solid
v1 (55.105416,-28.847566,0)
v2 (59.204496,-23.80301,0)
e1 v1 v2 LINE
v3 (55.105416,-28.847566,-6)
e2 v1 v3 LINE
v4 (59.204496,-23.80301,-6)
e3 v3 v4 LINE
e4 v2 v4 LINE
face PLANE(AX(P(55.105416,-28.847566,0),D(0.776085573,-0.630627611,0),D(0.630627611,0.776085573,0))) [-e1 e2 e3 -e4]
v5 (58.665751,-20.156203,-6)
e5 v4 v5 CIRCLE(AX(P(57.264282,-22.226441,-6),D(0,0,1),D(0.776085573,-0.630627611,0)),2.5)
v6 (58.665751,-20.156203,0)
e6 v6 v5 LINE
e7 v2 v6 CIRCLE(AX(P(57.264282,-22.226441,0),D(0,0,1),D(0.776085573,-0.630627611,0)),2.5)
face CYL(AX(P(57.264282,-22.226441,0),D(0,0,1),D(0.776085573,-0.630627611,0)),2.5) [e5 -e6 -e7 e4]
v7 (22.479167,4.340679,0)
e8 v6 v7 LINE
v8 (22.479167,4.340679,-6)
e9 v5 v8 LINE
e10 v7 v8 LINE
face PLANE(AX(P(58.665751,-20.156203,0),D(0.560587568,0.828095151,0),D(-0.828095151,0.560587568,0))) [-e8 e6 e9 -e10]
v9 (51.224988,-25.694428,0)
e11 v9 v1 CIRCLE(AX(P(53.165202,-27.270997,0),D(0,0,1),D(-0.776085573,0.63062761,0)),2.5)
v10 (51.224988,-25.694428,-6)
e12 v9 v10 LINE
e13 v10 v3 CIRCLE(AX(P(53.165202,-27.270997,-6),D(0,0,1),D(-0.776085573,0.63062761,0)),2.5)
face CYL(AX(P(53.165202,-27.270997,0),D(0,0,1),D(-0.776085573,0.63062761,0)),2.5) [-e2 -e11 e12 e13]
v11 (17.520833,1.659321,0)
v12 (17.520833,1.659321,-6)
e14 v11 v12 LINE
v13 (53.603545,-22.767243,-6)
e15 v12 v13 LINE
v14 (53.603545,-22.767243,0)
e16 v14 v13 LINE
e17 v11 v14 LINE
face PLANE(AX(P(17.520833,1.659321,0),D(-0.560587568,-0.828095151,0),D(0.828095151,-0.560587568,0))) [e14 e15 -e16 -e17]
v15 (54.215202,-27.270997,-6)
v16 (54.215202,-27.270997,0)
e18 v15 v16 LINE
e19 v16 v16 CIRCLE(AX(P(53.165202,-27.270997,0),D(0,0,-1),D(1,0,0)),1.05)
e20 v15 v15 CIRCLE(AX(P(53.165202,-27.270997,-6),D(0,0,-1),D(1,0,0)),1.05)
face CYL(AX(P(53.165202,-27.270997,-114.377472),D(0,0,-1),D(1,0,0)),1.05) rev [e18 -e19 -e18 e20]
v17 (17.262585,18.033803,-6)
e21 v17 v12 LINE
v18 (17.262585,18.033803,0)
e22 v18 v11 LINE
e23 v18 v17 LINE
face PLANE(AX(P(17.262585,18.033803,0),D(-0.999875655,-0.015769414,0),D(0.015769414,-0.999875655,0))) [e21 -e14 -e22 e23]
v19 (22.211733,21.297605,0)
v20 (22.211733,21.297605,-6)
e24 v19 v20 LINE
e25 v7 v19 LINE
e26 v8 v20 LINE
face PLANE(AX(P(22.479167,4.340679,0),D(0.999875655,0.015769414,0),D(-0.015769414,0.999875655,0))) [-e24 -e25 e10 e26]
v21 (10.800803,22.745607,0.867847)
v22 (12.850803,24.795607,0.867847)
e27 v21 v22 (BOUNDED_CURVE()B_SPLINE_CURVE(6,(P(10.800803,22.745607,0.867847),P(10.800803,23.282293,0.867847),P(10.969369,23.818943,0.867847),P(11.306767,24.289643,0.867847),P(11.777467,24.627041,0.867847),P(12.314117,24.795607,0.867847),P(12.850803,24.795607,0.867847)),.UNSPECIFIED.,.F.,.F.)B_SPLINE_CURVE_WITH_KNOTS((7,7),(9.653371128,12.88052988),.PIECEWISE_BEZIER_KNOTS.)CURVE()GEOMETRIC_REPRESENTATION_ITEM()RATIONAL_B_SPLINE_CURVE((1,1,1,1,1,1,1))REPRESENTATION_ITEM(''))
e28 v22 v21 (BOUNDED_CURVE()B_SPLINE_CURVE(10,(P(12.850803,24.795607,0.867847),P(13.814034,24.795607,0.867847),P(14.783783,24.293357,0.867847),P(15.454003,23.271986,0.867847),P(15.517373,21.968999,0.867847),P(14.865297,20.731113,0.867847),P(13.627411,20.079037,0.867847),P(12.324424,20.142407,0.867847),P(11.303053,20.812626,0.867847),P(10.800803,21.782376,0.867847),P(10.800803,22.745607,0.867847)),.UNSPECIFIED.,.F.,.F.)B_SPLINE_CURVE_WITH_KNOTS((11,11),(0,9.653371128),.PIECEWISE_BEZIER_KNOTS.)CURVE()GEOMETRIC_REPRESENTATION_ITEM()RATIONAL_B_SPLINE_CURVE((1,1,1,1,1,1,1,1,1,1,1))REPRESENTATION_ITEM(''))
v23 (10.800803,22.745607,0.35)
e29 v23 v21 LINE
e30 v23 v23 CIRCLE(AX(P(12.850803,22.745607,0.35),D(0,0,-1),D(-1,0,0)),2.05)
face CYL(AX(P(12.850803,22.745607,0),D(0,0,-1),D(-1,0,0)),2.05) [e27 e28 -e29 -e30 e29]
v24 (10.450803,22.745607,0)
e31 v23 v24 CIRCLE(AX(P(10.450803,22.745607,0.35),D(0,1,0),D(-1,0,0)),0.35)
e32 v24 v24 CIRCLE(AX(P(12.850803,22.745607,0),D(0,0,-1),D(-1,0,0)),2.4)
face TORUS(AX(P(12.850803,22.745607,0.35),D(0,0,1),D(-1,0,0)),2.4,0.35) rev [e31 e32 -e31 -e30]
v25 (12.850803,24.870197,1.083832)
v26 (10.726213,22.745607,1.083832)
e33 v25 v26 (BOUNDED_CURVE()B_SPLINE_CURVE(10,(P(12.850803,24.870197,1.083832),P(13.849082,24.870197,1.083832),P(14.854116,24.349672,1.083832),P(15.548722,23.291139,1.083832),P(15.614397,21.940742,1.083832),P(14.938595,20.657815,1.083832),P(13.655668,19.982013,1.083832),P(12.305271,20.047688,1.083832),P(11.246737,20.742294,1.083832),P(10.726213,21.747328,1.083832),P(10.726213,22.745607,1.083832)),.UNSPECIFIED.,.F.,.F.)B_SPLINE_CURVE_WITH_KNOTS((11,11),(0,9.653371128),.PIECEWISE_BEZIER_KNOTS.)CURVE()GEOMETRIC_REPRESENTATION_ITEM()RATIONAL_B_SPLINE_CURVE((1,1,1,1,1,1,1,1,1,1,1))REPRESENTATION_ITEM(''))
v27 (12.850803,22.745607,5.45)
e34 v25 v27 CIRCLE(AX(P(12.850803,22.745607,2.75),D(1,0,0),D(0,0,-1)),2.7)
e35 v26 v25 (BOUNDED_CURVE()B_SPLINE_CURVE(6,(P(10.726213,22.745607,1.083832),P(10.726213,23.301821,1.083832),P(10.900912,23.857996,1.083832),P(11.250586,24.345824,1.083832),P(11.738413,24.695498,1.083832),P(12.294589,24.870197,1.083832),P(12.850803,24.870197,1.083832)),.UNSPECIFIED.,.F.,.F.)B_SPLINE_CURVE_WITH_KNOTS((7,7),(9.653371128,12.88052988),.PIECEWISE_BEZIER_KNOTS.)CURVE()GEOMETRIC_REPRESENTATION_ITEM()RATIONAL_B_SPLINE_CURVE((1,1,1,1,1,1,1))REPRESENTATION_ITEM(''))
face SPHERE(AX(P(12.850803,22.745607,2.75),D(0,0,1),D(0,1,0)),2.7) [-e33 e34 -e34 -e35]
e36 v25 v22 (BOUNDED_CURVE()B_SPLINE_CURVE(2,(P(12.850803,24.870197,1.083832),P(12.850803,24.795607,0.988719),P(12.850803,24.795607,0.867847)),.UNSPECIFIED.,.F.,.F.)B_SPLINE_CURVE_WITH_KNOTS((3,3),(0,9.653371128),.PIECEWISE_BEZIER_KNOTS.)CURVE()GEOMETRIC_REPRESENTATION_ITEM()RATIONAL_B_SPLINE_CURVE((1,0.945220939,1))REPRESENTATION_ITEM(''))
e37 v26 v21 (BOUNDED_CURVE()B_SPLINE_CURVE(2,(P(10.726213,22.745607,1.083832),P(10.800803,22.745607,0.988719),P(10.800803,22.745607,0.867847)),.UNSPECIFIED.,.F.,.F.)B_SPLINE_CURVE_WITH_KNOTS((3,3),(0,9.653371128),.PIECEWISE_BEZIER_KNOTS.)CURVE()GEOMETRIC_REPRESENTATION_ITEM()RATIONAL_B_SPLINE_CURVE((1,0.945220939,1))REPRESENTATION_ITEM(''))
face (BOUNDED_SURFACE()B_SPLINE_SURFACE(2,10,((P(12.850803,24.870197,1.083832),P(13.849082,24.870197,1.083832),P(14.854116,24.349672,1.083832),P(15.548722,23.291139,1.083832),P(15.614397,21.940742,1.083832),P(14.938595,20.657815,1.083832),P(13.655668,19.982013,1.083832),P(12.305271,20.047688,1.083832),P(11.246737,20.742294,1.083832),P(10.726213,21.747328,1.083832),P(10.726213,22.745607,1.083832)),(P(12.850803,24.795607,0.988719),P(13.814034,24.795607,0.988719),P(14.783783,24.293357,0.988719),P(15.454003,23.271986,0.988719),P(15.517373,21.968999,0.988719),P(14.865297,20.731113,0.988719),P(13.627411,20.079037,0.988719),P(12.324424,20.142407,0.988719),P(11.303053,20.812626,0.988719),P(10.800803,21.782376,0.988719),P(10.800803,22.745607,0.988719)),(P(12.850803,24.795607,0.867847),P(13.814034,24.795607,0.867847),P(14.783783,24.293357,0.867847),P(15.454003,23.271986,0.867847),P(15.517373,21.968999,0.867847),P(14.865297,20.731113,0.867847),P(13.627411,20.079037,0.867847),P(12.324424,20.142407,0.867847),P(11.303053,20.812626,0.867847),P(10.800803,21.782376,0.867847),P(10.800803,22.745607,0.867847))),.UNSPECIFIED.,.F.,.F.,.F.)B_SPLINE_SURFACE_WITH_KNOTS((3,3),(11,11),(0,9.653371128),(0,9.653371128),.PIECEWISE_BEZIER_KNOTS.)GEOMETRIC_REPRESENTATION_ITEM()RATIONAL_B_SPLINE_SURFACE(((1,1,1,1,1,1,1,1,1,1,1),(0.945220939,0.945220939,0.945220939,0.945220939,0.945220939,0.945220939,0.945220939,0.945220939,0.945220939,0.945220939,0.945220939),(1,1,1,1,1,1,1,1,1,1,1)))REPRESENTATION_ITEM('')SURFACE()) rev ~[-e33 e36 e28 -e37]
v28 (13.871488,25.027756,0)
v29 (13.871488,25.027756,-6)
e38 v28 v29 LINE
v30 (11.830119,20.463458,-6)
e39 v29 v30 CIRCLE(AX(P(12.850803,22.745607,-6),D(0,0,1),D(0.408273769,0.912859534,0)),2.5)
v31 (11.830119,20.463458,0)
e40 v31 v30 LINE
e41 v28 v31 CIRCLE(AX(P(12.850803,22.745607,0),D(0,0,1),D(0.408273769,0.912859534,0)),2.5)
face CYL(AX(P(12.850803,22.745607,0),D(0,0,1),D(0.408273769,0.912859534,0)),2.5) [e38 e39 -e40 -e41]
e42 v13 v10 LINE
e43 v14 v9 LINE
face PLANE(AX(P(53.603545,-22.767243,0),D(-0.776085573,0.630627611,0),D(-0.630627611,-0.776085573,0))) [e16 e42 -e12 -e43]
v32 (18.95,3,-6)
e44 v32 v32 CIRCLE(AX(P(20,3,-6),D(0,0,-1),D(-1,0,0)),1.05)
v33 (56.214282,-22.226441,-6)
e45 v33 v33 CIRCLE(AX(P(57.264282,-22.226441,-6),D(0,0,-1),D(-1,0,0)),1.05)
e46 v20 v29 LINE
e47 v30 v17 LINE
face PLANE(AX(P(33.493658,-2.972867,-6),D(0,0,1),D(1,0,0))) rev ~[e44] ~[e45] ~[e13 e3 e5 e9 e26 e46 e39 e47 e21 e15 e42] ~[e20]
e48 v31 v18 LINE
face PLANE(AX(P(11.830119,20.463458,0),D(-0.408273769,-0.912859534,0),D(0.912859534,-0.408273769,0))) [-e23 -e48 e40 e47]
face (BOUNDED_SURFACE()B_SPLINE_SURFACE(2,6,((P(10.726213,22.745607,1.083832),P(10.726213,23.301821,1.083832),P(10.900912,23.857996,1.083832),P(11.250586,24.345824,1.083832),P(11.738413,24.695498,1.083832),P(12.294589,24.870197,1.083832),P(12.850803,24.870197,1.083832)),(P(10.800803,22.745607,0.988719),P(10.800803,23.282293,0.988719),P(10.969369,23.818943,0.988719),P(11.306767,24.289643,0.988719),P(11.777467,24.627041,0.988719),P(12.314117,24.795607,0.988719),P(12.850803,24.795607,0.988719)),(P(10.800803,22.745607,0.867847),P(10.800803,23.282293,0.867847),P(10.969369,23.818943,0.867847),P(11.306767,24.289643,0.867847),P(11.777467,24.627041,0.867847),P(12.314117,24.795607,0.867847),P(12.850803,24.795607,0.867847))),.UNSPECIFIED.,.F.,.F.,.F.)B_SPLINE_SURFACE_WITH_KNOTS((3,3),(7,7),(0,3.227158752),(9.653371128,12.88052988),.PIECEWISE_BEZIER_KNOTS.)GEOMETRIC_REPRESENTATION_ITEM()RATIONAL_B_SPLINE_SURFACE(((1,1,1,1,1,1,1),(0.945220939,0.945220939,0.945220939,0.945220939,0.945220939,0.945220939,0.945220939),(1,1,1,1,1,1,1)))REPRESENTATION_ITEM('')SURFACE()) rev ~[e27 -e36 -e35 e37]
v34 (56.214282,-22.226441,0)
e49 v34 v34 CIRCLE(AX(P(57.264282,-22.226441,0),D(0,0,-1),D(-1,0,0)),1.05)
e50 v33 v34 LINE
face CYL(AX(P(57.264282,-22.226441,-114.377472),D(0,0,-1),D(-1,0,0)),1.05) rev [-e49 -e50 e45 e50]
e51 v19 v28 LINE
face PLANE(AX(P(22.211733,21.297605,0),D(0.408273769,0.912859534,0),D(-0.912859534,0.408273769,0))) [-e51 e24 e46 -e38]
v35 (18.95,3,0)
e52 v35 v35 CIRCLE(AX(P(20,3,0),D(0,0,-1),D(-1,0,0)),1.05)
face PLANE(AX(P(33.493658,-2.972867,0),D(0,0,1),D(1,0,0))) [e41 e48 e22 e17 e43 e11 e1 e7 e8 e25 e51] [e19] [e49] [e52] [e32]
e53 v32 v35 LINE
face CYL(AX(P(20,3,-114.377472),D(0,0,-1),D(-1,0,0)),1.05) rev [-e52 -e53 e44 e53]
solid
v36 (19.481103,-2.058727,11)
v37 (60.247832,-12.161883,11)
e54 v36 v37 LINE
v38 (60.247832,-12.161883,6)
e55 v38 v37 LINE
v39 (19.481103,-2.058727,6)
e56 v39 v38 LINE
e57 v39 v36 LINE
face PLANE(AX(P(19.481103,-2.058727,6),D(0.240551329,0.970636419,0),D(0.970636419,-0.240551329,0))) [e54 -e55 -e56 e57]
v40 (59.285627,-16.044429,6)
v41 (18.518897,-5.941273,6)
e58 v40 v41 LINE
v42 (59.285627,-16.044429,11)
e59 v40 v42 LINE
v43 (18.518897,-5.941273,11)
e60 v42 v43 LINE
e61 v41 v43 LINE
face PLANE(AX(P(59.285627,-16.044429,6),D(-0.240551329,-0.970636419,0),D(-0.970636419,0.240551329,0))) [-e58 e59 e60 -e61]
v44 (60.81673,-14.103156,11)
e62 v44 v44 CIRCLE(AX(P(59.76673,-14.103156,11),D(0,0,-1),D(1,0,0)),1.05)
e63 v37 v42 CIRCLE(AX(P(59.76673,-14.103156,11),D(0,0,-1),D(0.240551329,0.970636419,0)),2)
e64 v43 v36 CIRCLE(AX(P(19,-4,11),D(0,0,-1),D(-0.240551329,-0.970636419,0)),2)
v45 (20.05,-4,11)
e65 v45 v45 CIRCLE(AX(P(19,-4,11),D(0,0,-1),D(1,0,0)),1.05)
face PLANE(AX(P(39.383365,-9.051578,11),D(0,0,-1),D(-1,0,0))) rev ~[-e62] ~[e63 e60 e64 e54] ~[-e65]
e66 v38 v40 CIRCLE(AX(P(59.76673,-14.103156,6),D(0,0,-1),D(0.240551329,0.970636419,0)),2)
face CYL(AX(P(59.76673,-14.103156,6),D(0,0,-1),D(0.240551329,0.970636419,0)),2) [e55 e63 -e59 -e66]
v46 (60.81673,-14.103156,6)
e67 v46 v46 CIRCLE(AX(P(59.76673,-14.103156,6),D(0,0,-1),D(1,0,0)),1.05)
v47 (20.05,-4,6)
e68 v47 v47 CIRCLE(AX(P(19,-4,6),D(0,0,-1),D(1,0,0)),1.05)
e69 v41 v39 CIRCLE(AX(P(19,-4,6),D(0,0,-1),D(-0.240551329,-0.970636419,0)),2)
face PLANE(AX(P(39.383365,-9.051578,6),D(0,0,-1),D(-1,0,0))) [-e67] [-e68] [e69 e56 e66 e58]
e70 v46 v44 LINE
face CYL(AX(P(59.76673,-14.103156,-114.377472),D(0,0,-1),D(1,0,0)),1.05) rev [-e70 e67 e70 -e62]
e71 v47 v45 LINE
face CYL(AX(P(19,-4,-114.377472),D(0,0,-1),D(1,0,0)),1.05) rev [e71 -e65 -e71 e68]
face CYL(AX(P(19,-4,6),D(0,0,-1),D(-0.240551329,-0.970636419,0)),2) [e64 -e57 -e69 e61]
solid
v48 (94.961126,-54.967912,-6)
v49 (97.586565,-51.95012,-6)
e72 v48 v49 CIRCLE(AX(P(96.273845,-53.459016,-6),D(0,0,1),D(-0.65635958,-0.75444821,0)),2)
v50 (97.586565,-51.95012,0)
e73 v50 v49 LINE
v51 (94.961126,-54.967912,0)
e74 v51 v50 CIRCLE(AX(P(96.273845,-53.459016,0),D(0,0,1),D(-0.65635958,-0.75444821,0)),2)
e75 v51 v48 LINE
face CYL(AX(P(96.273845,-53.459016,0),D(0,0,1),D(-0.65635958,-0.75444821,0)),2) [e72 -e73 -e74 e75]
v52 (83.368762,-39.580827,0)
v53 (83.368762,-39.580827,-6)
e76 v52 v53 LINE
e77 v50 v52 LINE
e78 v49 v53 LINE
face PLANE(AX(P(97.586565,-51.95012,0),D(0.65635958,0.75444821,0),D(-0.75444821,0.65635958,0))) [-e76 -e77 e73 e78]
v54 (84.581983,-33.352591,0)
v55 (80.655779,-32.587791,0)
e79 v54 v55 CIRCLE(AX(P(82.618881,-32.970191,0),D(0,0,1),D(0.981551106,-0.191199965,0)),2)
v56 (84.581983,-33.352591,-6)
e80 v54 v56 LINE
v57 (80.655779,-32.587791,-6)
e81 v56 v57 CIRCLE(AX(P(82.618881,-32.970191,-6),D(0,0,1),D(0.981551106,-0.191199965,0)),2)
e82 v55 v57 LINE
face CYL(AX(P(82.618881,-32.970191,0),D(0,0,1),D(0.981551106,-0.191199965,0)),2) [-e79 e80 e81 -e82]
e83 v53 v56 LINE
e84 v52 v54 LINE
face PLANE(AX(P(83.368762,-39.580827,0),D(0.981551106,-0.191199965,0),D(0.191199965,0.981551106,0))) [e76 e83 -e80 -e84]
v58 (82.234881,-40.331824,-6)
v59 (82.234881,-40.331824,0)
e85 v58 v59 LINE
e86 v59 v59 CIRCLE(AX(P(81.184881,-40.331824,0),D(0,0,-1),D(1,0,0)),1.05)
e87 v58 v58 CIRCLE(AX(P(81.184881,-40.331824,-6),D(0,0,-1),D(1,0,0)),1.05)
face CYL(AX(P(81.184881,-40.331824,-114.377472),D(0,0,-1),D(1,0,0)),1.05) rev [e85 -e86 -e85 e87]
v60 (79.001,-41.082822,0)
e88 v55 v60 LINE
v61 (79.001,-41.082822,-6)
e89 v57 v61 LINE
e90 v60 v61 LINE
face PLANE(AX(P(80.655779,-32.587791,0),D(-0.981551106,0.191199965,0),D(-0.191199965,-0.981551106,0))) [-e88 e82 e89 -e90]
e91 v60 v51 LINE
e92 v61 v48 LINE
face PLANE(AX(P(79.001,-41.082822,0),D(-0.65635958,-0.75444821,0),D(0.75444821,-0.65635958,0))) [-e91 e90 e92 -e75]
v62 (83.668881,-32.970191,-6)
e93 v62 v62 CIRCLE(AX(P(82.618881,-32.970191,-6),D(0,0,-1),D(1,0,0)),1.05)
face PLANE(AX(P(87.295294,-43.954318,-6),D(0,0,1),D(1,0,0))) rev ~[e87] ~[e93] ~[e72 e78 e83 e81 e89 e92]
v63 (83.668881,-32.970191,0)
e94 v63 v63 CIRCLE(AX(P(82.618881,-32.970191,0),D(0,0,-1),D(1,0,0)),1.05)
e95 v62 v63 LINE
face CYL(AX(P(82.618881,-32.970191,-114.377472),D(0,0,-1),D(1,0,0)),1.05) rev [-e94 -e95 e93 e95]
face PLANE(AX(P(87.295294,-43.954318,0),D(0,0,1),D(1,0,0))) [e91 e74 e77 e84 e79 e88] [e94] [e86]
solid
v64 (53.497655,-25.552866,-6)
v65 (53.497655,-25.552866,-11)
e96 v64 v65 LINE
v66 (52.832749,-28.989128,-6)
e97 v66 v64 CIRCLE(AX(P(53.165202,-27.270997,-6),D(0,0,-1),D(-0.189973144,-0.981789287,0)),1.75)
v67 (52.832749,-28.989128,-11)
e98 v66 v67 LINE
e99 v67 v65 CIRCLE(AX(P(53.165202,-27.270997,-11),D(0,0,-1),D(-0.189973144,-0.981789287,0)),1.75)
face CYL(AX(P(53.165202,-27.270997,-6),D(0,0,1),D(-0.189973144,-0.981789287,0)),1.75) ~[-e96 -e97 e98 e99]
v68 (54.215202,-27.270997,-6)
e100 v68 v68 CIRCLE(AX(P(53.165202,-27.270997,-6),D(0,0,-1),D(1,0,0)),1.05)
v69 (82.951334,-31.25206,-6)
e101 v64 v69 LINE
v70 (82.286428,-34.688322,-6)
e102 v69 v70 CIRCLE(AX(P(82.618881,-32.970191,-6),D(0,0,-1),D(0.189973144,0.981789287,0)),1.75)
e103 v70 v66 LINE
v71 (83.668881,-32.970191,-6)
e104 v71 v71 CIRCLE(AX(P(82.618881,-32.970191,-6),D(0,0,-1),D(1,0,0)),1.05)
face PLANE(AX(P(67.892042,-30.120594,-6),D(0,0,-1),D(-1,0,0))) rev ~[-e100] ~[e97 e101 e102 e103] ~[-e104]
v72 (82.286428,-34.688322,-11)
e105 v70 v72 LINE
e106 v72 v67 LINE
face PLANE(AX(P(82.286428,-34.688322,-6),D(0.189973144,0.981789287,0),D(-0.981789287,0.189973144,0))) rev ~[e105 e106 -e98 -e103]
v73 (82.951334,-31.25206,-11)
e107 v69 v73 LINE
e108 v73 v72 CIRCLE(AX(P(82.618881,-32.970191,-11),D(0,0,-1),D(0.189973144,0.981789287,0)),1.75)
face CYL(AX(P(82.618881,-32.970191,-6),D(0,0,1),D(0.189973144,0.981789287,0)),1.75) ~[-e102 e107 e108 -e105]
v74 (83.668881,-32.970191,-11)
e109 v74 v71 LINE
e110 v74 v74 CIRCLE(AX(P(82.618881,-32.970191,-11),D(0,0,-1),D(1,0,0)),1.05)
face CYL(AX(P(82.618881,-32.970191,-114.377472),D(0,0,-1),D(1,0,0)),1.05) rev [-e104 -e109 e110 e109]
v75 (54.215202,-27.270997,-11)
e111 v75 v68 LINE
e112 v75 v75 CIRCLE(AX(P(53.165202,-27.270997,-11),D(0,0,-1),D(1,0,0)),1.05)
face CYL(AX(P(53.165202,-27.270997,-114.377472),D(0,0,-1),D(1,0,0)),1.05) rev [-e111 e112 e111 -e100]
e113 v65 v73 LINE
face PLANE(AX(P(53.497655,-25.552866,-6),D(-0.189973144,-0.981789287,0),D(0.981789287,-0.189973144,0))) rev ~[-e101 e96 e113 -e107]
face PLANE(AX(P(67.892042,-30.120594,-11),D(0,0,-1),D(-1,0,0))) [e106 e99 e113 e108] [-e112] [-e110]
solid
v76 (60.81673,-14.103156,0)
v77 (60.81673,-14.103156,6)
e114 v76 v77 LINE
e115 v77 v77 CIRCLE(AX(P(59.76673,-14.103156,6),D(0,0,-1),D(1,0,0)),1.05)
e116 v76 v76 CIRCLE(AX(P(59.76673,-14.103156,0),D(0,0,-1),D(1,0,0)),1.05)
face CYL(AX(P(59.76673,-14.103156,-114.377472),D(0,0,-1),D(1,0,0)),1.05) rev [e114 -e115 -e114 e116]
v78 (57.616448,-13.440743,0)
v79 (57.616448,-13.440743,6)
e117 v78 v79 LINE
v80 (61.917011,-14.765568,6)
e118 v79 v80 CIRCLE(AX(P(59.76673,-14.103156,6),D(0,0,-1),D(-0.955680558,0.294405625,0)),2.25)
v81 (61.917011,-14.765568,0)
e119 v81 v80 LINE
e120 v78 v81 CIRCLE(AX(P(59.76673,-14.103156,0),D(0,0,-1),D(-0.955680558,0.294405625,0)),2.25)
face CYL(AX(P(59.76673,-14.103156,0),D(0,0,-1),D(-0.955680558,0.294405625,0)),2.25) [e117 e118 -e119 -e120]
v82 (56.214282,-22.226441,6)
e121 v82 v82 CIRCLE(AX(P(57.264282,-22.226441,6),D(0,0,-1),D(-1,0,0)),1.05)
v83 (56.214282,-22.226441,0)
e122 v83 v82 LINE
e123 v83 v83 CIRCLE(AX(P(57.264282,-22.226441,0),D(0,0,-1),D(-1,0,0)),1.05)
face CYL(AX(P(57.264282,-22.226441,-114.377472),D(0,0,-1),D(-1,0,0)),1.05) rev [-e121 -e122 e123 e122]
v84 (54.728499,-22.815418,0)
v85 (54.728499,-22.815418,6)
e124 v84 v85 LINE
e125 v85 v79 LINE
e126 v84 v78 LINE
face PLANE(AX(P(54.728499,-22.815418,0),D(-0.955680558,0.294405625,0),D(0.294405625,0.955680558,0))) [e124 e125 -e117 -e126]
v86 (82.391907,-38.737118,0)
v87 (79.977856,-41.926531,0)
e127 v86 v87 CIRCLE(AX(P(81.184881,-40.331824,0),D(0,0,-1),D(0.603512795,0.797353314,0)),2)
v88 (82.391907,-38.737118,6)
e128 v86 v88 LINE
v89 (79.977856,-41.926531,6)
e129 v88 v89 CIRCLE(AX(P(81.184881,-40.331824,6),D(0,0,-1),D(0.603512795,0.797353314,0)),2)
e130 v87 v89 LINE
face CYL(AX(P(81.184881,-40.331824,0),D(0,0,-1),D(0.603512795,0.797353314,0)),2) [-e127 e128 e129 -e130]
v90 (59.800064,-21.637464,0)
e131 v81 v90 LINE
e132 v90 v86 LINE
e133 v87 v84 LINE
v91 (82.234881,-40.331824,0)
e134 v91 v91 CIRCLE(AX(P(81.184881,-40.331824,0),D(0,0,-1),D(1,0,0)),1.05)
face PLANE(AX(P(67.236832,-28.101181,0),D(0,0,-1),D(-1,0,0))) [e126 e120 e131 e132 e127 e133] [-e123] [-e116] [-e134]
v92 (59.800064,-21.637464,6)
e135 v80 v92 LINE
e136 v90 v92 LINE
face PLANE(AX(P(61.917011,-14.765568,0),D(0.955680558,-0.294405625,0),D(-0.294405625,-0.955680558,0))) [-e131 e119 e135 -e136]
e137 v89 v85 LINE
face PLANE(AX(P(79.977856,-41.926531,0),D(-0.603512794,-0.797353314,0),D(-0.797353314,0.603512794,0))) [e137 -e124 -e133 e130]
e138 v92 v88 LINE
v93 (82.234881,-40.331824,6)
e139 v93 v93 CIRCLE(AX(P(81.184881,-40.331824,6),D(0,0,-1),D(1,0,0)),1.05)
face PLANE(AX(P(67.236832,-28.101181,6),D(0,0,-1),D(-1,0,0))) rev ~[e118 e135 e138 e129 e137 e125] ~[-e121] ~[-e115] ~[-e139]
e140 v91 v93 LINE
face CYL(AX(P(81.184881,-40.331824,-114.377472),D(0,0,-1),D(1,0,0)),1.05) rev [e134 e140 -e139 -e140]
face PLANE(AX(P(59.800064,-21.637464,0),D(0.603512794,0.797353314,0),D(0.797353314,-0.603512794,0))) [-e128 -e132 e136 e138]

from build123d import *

# Parameters (mm, degrees)
BOSS_EXTRU_1_DEPTH           = 6
BOSS_EXTRU_2_DEPTH           = 6
BOSS_EXTRU_3_DEPTH           = 6
BOSS_EXTRU_4_START           = 6
BOSS_EXTRU_4_DEPTH           = 5
BOSS_EXTRU_5_START           = -6
BOSS_EXTRU_5_DEPTH           = 5
ENL_V_MAT_EXTRU_1_DEPTH      = 114.377471944
ENL_V_MAT_EXTRU_1_DEPTH_BACK = 114.377471944
ESQUISSE13_R                 = 1.05
ESQUISSE18_R                 = 2.05
BOSS_EXTRU_7_DEPTH           = 2
CONG_1_R                     = 0.35


with BuildPart() as part:
    # Esquisse6 → Boss.-Extru.1 (new body)
    with BuildSketch(Plane.XY):
        with BuildLine():
            Line((17.520833455, 1.659320664), (53.603544682, -22.767243471))
            Line((53.603544682, -22.767243471), (51.224988394, -25.694427738))
            ThreePointArc((51.224988394, -25.694427738), (51.588633301, -29.211210697), (55.10541626, -28.84756579))
            Line((55.10541626, -28.84756579), (59.204495728, -23.803009565))
            ThreePointArc((59.204495728, -23.803009565), (59.737439942, -21.861079373), (58.665750714, -20.156202661))
            Line((58.665750714, -20.156202661), (22.479166545, 4.340679336))
            Line((22.479166545, 4.340679336), (22.21173251, 21.297605282))
            Line((22.21173251, 21.297605282), (13.87148757, 25.027755547))
            ThreePointArc((13.87148757, 25.027755547), (10.568654312, 23.766291133), (11.830118726, 20.463457875))
            Line((11.830118726, 20.463457875), (17.262585357, 18.033802992))
            Line((17.262585357, 18.033802992), (17.520833455, 1.659320664))
        make_face()
    extrude(amount=-BOSS_EXTRU_1_DEPTH)


with BuildPart() as body_2:
    # Esquisse7 → Boss.-Extru.2 (new body)
    with BuildSketch(Plane.XY):
        with BuildLine():
            Line((54.728499187, -22.815417525), (57.616448353, -13.440743144))
            ThreePointArc((57.616448353, -13.440743144), (60.429142263, -11.952874545), (61.917010862, -14.765568456))
            Line((61.917010862, -14.765568456), (59.800064405, -21.637463553))
            Line((59.800064405, -21.637463553), (82.391906796, -38.737117746))
            ThreePointArc((82.391906796, -38.737117746), (82.779587834, -41.538849963), (79.977855618, -41.926531001))
            Line((79.977855618, -41.926531001), (54.728499187, -22.815417525))
        make_face()
    extrude(amount=BOSS_EXTRU_2_DEPTH)


with BuildPart() as body_3:
    # Esquisse8 → Boss.-Extru.3 (new body)
    with BuildSketch(Plane.XY):
        with BuildLine():
            Line((79.001000292, -41.082822034), (94.96112625, -54.967912393))
            ThreePointArc((94.96112625, -54.967912393), (97.78274183, -54.771735133), (97.58656457, -51.950119552))
            Line((97.58656457, -51.950119552), (83.368762121, -39.580826714))
            Line((83.368762121, -39.580826714), (84.581983157, -33.352591011))
            ThreePointArc((84.581983157, -33.352591011), (83.001280876, -31.007088869), (80.655778734, -32.58779115))
            Line((80.655778734, -32.58779115), (79.001000292, -41.082822034))
        make_face()
    extrude(amount=-BOSS_EXTRU_3_DEPTH)


with BuildPart() as body_4:
    # Esquisse9 → Boss.-Extru.4 (new body)
    with BuildSketch(Plane.XY.offset(BOSS_EXTRU_4_START)):
        with BuildLine():
            Line((19.481102657, -2.058727162), (60.247832265, -12.161882961))
            ThreePointArc((60.247832265, -12.161882961), (61.708002446, -14.584258457), (59.28562695, -16.044428638))
            Line((59.28562695, -16.044428638), (18.518897343, -5.941272838))
            ThreePointArc((18.518897343, -5.941272838), (17.058727162, -3.518897343), (19.481102657, -2.058727162))
        make_face()
    extrude(amount=BOSS_EXTRU_4_DEPTH)


with BuildPart() as body_5:
    # Esquisse10 → Boss.-Extru.5 (new body)
    with BuildSketch(Plane.XY.offset(BOSS_EXTRU_5_START)):
        with BuildLine():
            Line((53.497655329, -25.552865511), (82.951333947, -31.252059828))
            ThreePointArc((82.951333947, -31.252059828), (84.337012198, -33.302644082), (82.286427944, -34.688322333))
            Line((82.286427944, -34.688322333), (52.832749325, -28.989128017))
            ThreePointArc((52.832749325, -28.989128017), (51.447071074, -26.938543762), (53.497655329, -25.552865511))
        make_face()
    extrude(amount=-BOSS_EXTRU_5_DEPTH)


with BuildPart() as enl_v_mat_extru_1_tool:
    # Esquisse13 → Enlèv. mat.-Extru.1 (new, two sides: drawn at the far end of the back side and taken through both)
    with BuildSketch(Plane.XY.offset(-ENL_V_MAT_EXTRU_1_DEPTH_BACK)):
        with Locations(Location((20, 3, 0), (0, 0, 180))):
            Circle(ESQUISSE13_R)
        with Locations((19, -4)):
            Circle(ESQUISSE13_R)
        with Locations((59.766729607, -14.1031558)):
            Circle(ESQUISSE13_R)
        with Locations(Location((57.264281796, -22.226440539, 0), (0, 0, 180))):
            Circle(ESQUISSE13_R)
        with Locations((53.165202327, -27.270996764)):
            Circle(ESQUISSE13_R)
        with Locations((82.618880945, -32.97019108)):
            Circle(ESQUISSE13_R)
        with Locations((81.184881207, -40.331824374)):
            Circle(ESQUISSE13_R)
    extrude(amount=ENL_V_MAT_EXTRU_1_DEPTH + ENL_V_MAT_EXTRU_1_DEPTH_BACK)


with BuildPart() as part_1:
    add(part.part)

    # Enlèv. mat.-Extru.1: cut by enl_v_mat_extru_1_tool
    add(enl_v_mat_extru_1_tool.part, mode=Mode.SUBTRACT)

    # Esquisse18 → Boss.-Extru.7 (add)
    with BuildSketch(Plane(origin=(0, 0, 0), x_dir=(-1, 0, 0), z_dir=(0, 0, -1))):
        with Locations((-12.850803148, 22.745606711)):
            Circle(ESQUISSE18_R)
    extrude(amount=-BOSS_EXTRU_7_DEPTH)

    # Esquisse19 → Révolution1 (revolve)
    with BuildSketch(Plane(origin=(12.850803148, 0, 0), x_dir=(0, 0, -1), z_dir=(1, 0, 0))):
        with BuildLine():
            Line((-5.45, 22.745606711), (-0.05, 22.745606711))
            ThreePointArc((-0.05, 22.745606711), (-2.75, 25.445606711), (-5.45, 22.745606711))
        make_face()
    revolve(axis=Axis((12.850803148, 22.745606711, 0), (0, 0, 1)))

    # Congé1
    cong_1_edges = [part_1.edges().sort_by_distance(p)[0] for p in [
        (14.900803148, 22.745606711, 0),
        (14.30037205, 21.296037809, 0.992871661),
    ]]
    fillet(cong_1_edges, radius=CONG_1_R)


with BuildPart() as body_2_1:
    add(body_2.part)

    # Enlèv. mat.-Extru.1: cut by enl_v_mat_extru_1_tool
    add(enl_v_mat_extru_1_tool.part, mode=Mode.SUBTRACT)


with BuildPart() as body_3_1:
    add(body_3.part)

    # Enlèv. mat.-Extru.1: cut by enl_v_mat_extru_1_tool
    add(enl_v_mat_extru_1_tool.part, mode=Mode.SUBTRACT)


with BuildPart() as body_4_1:
    add(body_4.part)

    # Enlèv. mat.-Extru.1: cut by enl_v_mat_extru_1_tool
    add(enl_v_mat_extru_1_tool.part, mode=Mode.SUBTRACT)


with BuildPart() as body_5_1:
    add(body_5.part)

    # Enlèv. mat.-Extru.1: cut by enl_v_mat_extru_1_tool
    add(enl_v_mat_extru_1_tool.part, mode=Mode.SUBTRACT)


solid = Compound([part_1.part, body_2_1.part, body_3_1.part, body_4_1.part, body_5_1.part])
